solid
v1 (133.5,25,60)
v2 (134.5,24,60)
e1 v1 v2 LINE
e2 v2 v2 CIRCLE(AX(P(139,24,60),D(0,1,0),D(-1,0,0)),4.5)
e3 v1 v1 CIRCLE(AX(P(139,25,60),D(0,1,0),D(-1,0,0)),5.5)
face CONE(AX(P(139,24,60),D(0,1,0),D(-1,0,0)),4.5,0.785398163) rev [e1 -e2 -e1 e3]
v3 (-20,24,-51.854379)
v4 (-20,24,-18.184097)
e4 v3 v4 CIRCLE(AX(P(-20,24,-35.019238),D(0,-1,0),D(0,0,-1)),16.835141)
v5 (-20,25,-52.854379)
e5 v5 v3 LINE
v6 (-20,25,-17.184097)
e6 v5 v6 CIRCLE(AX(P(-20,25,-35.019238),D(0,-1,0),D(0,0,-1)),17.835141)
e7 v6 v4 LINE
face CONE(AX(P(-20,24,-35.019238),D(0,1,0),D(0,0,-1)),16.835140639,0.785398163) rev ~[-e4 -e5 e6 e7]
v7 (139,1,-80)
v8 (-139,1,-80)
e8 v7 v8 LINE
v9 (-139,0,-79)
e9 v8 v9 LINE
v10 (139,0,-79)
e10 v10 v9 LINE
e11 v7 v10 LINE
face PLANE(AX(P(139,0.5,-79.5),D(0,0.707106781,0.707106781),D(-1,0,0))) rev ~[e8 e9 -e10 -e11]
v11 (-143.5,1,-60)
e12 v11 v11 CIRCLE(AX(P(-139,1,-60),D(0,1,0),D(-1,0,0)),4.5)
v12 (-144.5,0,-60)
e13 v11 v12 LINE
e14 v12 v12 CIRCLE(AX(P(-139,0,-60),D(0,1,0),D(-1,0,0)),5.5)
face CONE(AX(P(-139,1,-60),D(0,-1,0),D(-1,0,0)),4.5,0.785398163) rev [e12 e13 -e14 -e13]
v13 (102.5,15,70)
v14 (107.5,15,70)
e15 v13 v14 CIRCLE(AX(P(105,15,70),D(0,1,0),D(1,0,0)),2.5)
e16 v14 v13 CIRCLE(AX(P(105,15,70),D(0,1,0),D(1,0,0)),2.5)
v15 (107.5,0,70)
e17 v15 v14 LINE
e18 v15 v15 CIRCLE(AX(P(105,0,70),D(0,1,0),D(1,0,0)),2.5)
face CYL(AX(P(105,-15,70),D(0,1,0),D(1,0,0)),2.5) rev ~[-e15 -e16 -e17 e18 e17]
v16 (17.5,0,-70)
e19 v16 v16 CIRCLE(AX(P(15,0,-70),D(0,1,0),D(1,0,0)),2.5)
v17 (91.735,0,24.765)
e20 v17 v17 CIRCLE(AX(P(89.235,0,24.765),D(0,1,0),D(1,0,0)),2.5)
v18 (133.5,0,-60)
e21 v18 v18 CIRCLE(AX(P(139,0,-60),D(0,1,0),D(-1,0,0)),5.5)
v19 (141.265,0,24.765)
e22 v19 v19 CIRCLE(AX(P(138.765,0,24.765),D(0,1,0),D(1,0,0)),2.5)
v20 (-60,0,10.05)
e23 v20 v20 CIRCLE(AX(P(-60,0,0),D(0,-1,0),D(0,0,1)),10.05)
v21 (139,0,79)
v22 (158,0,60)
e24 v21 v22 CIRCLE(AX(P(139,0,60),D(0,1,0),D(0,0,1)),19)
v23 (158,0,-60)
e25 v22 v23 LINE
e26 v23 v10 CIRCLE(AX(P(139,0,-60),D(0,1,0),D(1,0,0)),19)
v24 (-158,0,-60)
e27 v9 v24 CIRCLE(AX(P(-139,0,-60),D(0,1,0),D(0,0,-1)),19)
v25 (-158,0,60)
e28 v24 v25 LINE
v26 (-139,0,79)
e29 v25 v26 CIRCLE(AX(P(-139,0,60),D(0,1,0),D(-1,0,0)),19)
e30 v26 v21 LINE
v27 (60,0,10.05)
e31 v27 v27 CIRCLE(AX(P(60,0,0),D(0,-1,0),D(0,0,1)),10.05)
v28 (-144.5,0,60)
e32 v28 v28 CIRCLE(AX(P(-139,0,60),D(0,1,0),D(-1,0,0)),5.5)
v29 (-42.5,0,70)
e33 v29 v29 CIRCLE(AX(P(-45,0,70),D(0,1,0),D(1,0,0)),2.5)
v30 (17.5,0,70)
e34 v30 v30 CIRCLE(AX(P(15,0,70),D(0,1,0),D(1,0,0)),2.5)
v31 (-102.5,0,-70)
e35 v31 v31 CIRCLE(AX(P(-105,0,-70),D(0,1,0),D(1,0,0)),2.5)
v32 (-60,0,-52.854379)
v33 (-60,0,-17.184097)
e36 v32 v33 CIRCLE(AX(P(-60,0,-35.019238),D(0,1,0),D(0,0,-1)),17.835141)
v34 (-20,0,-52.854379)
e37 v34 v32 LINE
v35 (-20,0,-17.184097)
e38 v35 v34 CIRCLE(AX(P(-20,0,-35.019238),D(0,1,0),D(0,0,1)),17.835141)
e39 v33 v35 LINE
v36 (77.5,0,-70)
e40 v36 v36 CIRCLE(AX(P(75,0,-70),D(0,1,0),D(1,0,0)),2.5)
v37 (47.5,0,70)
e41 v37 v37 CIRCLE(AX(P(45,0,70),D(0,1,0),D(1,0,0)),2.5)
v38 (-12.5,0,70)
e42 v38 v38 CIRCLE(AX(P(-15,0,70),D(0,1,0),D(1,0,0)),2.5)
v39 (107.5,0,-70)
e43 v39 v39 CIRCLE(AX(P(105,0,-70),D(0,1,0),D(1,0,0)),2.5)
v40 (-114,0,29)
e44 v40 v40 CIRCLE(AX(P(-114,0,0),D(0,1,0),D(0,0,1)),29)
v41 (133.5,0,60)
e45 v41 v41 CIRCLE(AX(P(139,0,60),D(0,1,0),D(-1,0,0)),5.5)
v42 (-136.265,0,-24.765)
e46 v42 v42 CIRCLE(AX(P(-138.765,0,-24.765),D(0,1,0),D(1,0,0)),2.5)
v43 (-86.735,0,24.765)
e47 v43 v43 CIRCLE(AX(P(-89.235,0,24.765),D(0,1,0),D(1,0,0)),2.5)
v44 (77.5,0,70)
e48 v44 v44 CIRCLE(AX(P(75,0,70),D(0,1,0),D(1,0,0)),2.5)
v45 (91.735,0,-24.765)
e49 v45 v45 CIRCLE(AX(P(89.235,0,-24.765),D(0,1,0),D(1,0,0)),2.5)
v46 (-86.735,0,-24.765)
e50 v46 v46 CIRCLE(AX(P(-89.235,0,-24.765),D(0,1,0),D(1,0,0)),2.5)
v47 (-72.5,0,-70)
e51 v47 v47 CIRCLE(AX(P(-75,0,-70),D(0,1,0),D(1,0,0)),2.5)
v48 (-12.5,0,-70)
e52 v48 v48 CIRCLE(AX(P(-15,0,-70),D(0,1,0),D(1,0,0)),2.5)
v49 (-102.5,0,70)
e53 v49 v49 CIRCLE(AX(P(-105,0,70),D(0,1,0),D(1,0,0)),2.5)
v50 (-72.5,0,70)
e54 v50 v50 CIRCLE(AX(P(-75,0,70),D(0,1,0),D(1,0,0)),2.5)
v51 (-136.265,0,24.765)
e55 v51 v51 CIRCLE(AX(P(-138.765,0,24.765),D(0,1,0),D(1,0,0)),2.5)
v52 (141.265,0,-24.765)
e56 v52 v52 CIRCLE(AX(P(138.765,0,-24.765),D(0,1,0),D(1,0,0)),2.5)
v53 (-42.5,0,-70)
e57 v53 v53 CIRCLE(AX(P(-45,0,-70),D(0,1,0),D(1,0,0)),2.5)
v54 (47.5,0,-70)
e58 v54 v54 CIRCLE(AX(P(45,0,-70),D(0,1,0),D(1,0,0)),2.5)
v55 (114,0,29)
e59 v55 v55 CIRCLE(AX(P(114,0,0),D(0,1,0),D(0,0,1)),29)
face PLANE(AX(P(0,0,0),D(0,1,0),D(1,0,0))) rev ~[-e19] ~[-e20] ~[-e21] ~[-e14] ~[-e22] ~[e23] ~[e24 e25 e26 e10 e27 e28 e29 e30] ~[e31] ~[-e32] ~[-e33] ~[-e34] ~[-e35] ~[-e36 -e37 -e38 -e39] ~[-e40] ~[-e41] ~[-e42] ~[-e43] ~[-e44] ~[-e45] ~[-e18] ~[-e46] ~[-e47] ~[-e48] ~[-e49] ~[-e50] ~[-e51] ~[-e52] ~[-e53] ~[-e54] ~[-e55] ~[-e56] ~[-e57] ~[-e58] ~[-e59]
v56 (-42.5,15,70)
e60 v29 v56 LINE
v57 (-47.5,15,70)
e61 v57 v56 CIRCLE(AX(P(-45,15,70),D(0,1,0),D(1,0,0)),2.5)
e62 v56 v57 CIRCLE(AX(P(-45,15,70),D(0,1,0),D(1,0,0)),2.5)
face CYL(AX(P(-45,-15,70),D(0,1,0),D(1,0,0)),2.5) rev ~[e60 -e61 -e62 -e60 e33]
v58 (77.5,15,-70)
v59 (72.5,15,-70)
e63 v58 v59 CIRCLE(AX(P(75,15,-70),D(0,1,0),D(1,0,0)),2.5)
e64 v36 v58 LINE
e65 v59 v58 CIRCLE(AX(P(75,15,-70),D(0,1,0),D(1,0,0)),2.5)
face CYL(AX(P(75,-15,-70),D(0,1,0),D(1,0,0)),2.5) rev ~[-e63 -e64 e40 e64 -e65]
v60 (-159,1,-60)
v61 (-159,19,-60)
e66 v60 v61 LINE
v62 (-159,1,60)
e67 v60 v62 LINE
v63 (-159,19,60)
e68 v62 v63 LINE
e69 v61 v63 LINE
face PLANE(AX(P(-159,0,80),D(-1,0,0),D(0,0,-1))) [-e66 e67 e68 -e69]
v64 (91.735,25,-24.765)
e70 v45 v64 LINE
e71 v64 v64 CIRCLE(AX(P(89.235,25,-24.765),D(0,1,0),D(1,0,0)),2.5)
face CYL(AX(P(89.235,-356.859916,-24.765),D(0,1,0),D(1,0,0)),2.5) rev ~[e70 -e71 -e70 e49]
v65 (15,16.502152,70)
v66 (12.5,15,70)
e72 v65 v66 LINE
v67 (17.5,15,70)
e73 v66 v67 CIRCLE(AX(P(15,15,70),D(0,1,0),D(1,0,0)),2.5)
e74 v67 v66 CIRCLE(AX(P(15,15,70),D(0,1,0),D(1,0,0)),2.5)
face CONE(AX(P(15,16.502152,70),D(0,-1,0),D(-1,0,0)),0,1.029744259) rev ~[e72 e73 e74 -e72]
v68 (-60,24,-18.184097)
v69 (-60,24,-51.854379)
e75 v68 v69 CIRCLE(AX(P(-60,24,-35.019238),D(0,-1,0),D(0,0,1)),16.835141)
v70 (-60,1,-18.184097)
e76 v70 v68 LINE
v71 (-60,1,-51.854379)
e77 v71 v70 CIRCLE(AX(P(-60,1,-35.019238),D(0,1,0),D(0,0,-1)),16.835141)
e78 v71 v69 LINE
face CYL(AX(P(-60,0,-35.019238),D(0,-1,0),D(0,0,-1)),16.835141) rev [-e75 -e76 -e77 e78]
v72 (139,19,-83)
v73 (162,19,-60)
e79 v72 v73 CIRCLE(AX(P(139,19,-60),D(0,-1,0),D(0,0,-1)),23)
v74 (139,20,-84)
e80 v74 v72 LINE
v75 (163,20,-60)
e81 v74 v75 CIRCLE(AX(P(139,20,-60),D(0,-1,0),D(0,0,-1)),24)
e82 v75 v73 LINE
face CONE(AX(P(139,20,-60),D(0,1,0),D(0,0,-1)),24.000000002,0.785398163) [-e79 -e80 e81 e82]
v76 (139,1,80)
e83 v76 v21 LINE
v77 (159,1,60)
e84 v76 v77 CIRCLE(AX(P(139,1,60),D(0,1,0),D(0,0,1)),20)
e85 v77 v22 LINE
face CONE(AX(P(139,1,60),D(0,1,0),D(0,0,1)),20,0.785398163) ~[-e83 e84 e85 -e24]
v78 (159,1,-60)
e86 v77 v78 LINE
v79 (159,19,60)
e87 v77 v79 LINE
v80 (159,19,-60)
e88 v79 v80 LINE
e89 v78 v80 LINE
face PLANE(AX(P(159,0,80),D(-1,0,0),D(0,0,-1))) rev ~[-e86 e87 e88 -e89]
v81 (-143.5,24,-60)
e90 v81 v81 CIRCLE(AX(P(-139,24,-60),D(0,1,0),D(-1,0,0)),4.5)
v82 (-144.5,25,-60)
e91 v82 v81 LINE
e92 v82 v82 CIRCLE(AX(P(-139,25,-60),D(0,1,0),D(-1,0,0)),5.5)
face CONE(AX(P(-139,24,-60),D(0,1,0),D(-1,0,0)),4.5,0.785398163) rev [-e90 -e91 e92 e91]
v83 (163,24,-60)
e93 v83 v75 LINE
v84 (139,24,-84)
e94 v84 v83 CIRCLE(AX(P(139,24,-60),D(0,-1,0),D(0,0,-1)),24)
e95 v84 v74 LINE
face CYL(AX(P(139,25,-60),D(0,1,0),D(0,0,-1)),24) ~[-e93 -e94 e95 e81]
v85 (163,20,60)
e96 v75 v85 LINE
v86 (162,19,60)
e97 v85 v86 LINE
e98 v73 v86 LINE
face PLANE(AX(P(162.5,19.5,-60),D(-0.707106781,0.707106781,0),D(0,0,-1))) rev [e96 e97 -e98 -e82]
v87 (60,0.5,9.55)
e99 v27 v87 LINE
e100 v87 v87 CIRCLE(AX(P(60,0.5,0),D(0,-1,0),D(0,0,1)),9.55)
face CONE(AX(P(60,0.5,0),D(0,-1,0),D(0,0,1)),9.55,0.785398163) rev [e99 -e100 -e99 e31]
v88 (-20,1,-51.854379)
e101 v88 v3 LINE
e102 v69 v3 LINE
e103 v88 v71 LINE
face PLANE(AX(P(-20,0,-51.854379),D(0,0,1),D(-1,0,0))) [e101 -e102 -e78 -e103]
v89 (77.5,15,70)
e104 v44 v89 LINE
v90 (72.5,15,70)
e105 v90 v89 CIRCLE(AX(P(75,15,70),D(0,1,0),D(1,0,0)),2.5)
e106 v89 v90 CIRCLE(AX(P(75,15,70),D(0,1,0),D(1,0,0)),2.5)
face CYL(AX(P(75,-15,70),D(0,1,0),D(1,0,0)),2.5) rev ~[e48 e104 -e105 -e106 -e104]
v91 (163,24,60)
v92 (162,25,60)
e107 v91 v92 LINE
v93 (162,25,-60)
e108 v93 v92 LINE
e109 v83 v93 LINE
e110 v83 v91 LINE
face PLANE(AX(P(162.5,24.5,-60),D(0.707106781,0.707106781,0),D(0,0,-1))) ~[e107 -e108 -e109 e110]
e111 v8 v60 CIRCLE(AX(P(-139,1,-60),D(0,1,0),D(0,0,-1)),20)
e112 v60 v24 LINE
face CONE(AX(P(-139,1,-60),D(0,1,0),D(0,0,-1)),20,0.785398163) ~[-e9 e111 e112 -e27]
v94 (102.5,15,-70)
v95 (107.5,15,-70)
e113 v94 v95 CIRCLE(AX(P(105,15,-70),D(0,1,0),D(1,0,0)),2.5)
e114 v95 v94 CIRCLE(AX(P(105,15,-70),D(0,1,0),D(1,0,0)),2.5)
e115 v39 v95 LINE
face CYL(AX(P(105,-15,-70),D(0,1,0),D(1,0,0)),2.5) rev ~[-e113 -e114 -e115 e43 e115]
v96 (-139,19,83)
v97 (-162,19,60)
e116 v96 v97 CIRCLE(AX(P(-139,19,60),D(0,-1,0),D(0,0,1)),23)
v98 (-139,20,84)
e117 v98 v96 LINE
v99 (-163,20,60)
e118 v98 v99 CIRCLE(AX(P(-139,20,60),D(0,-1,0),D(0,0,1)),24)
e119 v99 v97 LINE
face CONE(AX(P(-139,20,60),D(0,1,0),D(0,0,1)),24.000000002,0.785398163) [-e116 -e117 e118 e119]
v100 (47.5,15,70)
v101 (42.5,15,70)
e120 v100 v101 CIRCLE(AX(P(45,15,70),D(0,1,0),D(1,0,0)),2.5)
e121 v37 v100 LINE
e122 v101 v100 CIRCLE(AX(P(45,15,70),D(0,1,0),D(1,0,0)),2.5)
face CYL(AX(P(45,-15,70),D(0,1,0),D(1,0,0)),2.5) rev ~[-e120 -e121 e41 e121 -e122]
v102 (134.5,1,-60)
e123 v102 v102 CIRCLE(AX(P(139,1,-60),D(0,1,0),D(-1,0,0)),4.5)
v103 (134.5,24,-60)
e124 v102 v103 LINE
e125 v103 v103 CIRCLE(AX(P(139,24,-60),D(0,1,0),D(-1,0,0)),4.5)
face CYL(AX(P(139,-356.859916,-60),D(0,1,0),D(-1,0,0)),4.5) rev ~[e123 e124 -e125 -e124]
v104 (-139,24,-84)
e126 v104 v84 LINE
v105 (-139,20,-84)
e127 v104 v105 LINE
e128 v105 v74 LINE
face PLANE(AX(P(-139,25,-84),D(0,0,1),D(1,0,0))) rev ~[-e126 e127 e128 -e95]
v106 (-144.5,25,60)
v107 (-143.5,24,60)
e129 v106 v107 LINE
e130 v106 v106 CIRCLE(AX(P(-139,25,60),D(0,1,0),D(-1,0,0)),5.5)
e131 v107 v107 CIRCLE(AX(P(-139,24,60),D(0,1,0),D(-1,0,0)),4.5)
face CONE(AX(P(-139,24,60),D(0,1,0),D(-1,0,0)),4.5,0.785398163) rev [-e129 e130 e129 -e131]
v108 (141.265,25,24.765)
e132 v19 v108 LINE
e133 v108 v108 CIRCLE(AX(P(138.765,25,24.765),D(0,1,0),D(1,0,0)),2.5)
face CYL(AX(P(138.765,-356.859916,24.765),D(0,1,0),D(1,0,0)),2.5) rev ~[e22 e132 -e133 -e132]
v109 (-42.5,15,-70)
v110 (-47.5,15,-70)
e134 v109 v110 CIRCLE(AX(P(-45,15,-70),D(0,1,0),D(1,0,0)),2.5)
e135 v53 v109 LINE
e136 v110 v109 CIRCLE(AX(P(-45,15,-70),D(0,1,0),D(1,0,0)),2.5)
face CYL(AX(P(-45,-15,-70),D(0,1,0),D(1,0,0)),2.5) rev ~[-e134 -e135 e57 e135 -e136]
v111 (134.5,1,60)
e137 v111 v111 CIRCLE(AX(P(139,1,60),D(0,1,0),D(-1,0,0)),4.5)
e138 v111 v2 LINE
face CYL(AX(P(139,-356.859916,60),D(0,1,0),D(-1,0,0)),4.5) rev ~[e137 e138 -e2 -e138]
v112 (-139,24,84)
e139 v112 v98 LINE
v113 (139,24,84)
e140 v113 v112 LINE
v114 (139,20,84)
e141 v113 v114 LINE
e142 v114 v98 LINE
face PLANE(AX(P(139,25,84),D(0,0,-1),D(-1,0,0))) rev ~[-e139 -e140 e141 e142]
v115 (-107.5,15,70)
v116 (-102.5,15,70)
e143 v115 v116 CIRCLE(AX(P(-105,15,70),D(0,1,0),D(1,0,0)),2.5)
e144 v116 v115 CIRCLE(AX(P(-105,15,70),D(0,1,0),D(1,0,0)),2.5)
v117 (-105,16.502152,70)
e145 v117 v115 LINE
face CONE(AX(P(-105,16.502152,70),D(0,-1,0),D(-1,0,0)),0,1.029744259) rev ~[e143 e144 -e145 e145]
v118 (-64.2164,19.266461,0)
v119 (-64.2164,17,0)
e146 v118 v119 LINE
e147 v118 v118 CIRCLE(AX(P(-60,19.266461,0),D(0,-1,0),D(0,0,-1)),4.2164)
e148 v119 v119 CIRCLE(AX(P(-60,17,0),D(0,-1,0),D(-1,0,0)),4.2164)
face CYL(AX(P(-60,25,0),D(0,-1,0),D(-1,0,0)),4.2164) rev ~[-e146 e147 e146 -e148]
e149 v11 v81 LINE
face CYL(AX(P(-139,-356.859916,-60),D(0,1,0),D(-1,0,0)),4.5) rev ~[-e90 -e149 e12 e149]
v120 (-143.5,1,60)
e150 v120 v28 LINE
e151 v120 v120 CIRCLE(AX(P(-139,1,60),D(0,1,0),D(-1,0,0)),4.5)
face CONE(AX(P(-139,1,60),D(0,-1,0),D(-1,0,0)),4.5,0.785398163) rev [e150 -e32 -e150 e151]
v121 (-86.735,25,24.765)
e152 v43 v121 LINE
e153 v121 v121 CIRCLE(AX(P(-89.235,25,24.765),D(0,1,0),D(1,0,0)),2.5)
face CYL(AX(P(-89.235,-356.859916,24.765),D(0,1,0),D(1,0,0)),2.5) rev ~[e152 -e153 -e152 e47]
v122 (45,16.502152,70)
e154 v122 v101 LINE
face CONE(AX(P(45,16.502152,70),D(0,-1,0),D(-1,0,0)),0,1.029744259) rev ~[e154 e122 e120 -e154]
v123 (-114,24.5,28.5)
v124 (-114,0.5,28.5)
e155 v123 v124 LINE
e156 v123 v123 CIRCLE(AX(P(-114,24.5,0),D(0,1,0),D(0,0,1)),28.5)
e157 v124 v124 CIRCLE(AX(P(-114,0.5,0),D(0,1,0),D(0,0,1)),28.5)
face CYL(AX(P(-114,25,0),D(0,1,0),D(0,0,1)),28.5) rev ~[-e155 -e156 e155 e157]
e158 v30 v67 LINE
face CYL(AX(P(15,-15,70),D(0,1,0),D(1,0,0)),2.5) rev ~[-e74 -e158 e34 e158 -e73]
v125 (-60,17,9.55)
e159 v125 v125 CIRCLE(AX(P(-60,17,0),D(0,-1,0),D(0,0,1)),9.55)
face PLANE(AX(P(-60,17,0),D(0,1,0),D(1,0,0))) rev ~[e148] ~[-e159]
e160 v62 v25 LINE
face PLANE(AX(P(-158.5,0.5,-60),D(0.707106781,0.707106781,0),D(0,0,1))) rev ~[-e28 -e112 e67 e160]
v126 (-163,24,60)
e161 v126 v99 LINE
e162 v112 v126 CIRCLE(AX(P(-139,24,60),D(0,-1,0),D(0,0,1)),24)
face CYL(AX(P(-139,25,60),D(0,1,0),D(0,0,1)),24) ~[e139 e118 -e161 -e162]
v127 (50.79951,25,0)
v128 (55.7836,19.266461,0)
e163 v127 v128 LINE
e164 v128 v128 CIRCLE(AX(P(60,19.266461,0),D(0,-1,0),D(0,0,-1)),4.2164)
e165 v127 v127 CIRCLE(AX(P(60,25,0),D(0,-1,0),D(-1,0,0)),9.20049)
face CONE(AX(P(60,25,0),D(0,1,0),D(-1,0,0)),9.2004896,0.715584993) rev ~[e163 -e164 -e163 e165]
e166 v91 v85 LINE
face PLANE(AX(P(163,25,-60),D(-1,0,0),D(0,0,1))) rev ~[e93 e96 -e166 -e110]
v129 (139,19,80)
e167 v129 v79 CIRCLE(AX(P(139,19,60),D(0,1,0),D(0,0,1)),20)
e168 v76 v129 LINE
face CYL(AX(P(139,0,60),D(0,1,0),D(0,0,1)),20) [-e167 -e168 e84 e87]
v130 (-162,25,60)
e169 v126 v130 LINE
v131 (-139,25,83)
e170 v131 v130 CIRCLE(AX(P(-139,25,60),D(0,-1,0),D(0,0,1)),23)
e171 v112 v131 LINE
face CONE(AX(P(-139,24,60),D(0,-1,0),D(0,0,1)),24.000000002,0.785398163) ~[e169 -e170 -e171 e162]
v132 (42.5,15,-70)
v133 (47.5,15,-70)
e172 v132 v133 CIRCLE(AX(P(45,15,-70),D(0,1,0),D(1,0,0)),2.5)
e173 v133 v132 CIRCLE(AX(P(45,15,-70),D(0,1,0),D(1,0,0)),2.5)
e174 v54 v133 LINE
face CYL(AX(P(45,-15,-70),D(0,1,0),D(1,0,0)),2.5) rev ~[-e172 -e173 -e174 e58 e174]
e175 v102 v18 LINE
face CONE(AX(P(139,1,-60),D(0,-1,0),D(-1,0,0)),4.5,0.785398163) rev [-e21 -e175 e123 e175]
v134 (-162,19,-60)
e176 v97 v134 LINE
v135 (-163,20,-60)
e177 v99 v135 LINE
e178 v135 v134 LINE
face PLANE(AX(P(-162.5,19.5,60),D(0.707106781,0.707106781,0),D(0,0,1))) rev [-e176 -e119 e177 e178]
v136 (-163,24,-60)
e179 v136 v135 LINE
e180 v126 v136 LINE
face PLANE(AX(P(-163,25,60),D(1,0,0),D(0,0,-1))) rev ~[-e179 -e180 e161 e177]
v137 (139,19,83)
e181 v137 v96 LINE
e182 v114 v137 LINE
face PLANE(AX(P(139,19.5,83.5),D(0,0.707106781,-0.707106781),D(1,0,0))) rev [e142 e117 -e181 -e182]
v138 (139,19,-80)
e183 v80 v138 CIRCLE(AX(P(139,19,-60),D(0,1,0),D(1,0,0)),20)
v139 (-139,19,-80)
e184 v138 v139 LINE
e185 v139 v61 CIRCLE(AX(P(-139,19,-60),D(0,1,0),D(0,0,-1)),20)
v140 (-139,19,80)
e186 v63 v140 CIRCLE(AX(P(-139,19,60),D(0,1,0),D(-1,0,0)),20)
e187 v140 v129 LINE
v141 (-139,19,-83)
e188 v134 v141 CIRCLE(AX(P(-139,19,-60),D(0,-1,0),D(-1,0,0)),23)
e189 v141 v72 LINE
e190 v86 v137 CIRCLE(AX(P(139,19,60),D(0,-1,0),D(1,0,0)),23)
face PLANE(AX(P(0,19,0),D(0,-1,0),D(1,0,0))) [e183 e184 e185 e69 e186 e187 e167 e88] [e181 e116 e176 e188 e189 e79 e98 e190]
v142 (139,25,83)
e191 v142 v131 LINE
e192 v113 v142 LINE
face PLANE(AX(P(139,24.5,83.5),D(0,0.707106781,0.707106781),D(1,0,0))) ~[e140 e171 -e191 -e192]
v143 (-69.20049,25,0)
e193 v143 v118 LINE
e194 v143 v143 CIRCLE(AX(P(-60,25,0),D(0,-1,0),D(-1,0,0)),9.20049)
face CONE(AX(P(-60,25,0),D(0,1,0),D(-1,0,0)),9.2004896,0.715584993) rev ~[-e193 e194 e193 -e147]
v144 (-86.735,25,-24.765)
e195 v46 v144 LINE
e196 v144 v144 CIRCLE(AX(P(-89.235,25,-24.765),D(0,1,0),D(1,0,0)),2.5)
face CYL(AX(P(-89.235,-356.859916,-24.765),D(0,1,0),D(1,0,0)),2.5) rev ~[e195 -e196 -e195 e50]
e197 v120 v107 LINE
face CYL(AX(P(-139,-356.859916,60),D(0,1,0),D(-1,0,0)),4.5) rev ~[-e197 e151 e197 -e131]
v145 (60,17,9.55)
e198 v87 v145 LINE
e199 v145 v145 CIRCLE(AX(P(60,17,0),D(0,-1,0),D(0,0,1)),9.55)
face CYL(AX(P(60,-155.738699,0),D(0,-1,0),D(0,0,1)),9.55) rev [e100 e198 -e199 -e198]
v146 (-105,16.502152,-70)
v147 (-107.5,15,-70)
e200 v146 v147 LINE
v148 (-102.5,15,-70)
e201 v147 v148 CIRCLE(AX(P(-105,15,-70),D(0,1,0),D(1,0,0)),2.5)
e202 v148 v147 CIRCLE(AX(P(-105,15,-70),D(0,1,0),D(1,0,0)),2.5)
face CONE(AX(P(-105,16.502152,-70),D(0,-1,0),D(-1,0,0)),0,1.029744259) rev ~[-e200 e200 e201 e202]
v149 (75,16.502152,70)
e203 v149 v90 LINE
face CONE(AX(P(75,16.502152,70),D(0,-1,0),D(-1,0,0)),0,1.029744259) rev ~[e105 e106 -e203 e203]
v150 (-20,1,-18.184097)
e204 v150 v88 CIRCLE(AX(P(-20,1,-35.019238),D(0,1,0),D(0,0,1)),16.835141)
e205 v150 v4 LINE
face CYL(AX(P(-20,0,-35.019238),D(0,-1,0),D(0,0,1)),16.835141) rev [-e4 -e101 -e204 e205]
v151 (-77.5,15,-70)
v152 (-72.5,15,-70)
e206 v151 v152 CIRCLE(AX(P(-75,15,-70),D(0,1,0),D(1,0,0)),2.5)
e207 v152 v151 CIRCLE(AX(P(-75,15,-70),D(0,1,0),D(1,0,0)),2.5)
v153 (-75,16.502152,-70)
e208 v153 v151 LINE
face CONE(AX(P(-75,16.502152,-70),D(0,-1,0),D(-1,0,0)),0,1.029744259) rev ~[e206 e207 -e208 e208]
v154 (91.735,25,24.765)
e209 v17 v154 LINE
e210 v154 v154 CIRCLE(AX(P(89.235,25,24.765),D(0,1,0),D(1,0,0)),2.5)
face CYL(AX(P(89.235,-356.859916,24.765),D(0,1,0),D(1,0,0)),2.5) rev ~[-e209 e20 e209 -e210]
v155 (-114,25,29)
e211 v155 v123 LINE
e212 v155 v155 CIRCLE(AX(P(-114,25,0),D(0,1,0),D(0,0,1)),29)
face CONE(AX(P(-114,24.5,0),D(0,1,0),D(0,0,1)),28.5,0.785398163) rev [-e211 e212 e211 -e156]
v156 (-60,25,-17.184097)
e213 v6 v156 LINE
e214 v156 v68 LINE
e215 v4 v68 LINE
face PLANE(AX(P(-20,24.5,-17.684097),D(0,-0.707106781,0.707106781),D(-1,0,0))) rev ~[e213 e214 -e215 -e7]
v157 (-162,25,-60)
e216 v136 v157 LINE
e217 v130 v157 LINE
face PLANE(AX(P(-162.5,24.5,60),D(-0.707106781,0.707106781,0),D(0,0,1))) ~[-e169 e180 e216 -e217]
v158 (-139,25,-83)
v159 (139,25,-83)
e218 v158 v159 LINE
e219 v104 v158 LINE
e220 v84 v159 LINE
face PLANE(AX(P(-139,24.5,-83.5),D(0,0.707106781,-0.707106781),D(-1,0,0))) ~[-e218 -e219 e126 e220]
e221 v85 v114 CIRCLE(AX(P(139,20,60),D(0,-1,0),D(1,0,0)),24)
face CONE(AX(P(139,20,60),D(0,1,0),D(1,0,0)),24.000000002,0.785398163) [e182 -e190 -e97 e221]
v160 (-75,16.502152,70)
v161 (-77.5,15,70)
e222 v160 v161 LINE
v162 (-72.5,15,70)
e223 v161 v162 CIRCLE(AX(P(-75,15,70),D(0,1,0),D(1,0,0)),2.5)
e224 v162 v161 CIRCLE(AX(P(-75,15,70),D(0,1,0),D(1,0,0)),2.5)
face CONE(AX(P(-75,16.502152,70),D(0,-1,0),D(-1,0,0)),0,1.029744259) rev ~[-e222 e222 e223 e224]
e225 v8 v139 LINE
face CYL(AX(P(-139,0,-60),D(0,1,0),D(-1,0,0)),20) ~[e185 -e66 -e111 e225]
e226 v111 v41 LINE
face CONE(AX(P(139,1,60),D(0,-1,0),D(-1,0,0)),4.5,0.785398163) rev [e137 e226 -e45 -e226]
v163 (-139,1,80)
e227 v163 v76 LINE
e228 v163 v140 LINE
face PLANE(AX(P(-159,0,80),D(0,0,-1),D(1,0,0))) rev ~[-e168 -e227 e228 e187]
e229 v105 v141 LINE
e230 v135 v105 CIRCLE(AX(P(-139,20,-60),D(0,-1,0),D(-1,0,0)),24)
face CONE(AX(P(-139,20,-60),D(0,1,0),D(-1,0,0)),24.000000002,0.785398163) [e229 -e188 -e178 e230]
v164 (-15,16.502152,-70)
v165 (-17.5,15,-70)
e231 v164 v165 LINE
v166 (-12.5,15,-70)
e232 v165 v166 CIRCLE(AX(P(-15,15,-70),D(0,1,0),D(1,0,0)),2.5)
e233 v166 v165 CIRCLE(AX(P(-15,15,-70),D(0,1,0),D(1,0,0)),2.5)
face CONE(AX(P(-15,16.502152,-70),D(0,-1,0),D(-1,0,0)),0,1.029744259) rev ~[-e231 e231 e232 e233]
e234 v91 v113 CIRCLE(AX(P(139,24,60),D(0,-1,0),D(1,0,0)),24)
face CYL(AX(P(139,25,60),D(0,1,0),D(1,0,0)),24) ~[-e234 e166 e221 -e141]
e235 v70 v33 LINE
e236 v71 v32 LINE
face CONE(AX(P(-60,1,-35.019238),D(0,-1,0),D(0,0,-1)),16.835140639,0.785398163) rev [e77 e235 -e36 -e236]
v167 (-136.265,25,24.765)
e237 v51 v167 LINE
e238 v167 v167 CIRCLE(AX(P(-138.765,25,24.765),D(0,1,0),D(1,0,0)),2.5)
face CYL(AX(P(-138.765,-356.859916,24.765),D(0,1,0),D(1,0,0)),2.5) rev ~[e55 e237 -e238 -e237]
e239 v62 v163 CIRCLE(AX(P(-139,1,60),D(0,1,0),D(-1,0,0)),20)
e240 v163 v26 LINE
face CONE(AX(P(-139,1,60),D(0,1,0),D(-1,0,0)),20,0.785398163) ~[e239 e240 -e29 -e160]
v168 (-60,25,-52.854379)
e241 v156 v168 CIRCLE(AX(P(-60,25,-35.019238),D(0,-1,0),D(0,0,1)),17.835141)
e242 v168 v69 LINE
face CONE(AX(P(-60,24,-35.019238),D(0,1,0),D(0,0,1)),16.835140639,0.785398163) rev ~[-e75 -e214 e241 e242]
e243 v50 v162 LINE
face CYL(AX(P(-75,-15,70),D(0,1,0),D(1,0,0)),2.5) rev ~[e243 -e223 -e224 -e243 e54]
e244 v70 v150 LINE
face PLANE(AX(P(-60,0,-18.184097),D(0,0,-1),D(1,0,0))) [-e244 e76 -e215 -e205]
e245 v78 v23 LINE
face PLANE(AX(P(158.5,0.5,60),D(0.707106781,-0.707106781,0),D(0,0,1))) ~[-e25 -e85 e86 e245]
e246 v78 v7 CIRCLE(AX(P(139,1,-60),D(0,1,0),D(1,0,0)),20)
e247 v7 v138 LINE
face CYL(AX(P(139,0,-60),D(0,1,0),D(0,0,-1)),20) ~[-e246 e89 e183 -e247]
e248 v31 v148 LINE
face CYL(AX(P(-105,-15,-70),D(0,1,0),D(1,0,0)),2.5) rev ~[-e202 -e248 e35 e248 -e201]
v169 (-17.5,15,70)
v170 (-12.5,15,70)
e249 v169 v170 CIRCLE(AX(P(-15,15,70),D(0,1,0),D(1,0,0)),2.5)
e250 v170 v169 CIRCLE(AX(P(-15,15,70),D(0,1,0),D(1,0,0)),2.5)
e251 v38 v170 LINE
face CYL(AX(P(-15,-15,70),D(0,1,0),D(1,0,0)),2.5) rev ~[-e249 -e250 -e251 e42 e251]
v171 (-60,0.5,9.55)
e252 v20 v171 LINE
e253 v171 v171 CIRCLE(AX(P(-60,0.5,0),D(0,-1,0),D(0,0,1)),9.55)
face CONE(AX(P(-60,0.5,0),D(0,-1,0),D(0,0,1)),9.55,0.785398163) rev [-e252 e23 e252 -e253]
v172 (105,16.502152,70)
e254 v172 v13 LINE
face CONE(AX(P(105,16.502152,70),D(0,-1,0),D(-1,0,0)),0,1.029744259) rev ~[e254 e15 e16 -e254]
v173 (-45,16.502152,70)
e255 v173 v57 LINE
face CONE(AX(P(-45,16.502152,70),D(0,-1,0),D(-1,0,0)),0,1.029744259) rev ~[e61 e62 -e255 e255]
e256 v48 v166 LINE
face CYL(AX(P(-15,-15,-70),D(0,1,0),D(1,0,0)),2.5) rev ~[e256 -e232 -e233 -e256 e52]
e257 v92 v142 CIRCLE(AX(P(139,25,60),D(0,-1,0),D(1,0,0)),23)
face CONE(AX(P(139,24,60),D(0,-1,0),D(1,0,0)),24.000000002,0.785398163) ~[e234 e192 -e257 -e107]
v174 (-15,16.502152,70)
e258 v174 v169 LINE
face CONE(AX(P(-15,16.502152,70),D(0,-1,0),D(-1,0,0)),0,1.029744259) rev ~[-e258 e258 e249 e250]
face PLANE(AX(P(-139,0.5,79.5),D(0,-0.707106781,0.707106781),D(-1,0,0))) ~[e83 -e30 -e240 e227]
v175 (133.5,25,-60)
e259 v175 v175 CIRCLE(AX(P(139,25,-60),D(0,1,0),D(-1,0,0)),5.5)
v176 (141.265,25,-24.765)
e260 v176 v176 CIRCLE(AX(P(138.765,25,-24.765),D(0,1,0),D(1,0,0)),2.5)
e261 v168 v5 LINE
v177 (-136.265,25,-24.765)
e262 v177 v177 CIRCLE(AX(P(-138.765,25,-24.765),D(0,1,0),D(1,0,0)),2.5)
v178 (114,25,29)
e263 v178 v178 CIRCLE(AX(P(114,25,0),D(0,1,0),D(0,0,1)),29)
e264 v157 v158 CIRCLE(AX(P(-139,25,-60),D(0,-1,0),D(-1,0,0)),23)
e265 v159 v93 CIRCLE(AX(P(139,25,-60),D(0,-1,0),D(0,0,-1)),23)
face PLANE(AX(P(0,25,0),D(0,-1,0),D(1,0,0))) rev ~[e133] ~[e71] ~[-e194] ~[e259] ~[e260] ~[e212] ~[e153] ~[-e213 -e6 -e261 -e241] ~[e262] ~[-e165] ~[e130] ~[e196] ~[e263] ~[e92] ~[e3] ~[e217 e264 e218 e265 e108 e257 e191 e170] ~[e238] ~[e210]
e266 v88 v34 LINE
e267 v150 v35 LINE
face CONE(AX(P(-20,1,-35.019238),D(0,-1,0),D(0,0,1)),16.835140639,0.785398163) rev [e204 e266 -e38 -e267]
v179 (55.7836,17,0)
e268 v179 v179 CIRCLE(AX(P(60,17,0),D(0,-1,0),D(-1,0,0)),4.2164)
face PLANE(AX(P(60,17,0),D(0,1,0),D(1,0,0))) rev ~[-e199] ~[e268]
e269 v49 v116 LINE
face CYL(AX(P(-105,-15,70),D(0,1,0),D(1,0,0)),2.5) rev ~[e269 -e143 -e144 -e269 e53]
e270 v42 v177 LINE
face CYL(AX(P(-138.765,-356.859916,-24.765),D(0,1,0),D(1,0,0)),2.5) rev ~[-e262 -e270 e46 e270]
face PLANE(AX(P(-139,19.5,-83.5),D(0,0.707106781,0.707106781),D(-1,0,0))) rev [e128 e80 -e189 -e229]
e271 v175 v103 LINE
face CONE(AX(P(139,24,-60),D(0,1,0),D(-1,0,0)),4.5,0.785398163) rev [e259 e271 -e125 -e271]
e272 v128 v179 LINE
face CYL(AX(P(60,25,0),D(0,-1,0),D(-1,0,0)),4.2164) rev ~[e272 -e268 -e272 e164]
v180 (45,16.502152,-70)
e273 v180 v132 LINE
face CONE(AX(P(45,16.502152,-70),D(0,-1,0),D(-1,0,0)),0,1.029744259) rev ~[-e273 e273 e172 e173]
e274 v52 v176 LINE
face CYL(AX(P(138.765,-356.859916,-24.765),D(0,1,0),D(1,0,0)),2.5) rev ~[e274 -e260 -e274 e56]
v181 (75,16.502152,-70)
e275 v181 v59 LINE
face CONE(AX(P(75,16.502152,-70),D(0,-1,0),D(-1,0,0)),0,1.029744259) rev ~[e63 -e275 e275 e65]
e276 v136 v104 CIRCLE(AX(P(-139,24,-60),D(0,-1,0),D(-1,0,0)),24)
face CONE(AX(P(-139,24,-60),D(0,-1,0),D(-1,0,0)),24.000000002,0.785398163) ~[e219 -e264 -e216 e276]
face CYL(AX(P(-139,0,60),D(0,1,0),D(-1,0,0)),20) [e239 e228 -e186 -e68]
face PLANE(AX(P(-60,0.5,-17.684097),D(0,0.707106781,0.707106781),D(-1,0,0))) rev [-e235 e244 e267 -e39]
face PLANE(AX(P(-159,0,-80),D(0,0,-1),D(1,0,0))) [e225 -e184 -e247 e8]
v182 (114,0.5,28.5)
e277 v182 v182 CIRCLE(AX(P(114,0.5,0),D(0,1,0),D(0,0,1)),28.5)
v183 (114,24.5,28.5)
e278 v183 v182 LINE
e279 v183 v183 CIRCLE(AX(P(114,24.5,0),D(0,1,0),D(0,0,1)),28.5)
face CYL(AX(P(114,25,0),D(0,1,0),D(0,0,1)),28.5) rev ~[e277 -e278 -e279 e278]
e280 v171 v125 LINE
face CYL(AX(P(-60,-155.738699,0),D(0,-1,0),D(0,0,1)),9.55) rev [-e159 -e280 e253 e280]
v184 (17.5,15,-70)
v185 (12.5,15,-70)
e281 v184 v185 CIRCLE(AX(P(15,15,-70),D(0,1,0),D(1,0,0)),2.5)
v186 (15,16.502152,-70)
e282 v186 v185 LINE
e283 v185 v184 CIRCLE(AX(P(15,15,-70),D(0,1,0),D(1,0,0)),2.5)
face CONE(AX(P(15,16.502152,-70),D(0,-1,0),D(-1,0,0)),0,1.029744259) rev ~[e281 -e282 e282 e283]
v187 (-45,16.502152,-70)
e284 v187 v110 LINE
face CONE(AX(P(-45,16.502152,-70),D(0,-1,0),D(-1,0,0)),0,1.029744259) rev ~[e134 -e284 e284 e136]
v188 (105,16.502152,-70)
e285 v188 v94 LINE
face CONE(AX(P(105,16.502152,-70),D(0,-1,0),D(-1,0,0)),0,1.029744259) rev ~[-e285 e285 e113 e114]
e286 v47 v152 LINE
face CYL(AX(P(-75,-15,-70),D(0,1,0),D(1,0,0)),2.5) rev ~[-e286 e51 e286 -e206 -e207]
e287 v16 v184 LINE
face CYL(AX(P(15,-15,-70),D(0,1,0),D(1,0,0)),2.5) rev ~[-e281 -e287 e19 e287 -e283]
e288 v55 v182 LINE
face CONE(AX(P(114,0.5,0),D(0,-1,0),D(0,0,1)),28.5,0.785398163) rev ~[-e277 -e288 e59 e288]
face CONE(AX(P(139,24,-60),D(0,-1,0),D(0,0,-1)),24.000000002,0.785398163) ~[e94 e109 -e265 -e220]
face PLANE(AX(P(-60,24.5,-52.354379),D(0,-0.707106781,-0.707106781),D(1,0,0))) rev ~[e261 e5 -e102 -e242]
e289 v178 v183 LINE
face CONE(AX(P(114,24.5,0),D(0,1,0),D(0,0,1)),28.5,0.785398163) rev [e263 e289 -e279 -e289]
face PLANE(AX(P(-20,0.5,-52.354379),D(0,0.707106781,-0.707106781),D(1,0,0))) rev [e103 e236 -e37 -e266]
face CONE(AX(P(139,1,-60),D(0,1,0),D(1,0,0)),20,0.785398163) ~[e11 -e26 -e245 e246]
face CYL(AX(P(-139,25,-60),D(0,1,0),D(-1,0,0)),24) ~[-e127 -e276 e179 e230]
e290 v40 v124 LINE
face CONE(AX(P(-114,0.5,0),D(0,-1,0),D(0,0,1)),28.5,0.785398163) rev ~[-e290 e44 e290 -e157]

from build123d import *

# Parameters (mm, degrees)
SKETCH1_W                                            = 318
SKETCH1_H                                            = 160
BOSS_EXTRUDE1_DEPTH                                  = 25
SKETCH2_R                                            = 28.5
CUT_EXTRUDE1_DEPTH                                   = 180.738699228
CUT_EXTRUDE2_DEPTH                                   = 180.738699228
CUT_EXTRUDE2_DEPTH_BACK                              = 180.738699228
SKETCH4_R                                            = 9.55
CHAMFER1_SIZE                                        = 0.5
FILLET1_R                                            = 20
M8_CLEARANCE_HOLE1_D                                 = 9
M6X1_0_TAPPED_HOLE1_D                                = 5
SKETCH13_R                                           = 13.411040831
SKETCH13_R_2                                         = 14.724493856
BOSS_EXTRUDE3_DEPTH                                  = 8
CSK_FOR_5_16_FLAT_HEAD_SOCKET_CAP_SCREW1_D           = 8.4328
CSK_FOR_5_16_FLAT_HEAD_SOCKET_CAP_SCREW1_CSINK_D     = 18.4009792
CSK_FOR_5_16_FLAT_HEAD_SOCKET_CAP_SCREW1_CSINK_ANGLE = 82
BOSS_EXTRUDE4_DEPTH                                  = 6
CUT_EXTRUDE3_DEPTH                                   = 186.067555233
CHAMFER4_SIZE                                        = 1
M6X1_0_TAPPED_HOLE2_D                                = 5
M6X1_0_TAPPED_HOLE2_DEPTH                            = 15
M6X1_0_TAPPED_HOLE2_TIP                              = 1.502151548


with BuildPart() as part:
    # Sketch1 → Boss-Extrude1 (new body)
    with BuildSketch(Plane(origin=(0, 0, 0), x_dir=(1, 0, 0), z_dir=(0, 1, 0))):
        Rectangle(SKETCH1_W, SKETCH1_H)
    extrude(amount=BOSS_EXTRUDE1_DEPTH)

    # Sketch2 → Cut-Extrude1 (cut, through all)
    with BuildSketch(Plane(origin=(0, 25, 0), x_dir=(1, 0, 0), z_dir=(0, 1, 0))):
        with Locations(Location((-114, 0, 0), (0, 0, 270))):
            Circle(SKETCH2_R)
        with Locations(Location((114, 0, 0), (0, 0, 270))):
            Circle(SKETCH2_R)
    extrude(amount=-CUT_EXTRUDE1_DEPTH, mode=Mode.SUBTRACT)

    # Sketch4 → Cut-Extrude2 (cut, two sides: drawn at the far end of the back side and taken through both)
    with BuildSketch(Plane(origin=(0, 25, 0), x_dir=(1, 0, 0), z_dir=(0, 1, 0)).offset(-CUT_EXTRUDE2_DEPTH_BACK)):
        with Locations(Location((-60, 0, 0), (0, 0, 270))):
            Circle(SKETCH4_R)
        with Locations(Location((60, 0, 0), (0, 0, 270))):
            Circle(SKETCH4_R)
    extrude(amount=CUT_EXTRUDE2_DEPTH + CUT_EXTRUDE2_DEPTH_BACK, mode=Mode.SUBTRACT)

    # Chamfer1
    chamfer1_edges = [part.edges().sort_by_distance(p)[0] for p in [
        (-114, 0, -28.5),
        (-114, 25, -28.5),
        (114, 0, -28.5),
        (114, 25, -28.5),
        (-60, 0, -9.55),
        (-60, 25, -9.55),
        (60, 0, -9.55),
        (60, 25, -9.55),
    ]]
    chamfer(chamfer1_edges, length=CHAMFER1_SIZE)

    # Fillet1
    fillet1_edges = [part.edges().sort_by_distance(p)[0] for p in [
        (159, 12.5, 80),
        (-159, 12.5, 80),
        (-159, 12.5, -80),
        (159, 12.5, -80),
    ]]
    fillet(fillet1_edges, radius=FILLET1_R)

    # M8 Clearance Hole1 (through all)
    with Locations(Plane.XZ):
        with Locations((-139, -60), (-139, 60), (139, -60), (139, 60)):
            Hole(M8_CLEARANCE_HOLE1_D / 2)

    # M6x1.0 Tapped Hole1 (through all)
    with Locations(Plane(origin=(0, 0, 0), x_dir=(-1, 0, 0), z_dir=(0, -1, 0))):
        with Locations((138.765, -24.765), (89.235, -24.765), (89.235, 24.765), (138.765, 24.765), (-89.235, -24.765), (-138.765, -24.765), (-89.235, 24.765), (-138.765, 24.765)):
            Hole(M6X1_0_TAPPED_HOLE1_D / 2)

    # Sketch13 → Boss-Extrude3 (add)
    with BuildSketch(Plane(origin=(0, 25, 0), x_dir=(1, 0, 0), z_dir=(0, 1, 0))):
        with Locations((60, 0)):
            Circle(SKETCH13_R)
        with Locations((-60, 0)):
            Circle(SKETCH13_R_2)
    extrude(amount=-BOSS_EXTRUDE3_DEPTH)

    # CSK for 5/16 Flat Head Socket Cap Screw1 (through all)
    with Locations(Plane(origin=(0, 25, 0), x_dir=(1, 0, 0), z_dir=(0, 1, 0))):
        with Locations((60, 0), (-60, 0)):
            CounterSinkHole(CSK_FOR_5_16_FLAT_HEAD_SOCKET_CAP_SCREW1_D / 2, CSK_FOR_5_16_FLAT_HEAD_SOCKET_CAP_SCREW1_CSINK_D / 2, counter_sink_angle=CSK_FOR_5_16_FLAT_HEAD_SOCKET_CAP_SCREW1_CSINK_ANGLE)

    # Sketch16 → Boss-Extrude4 (add)
    with BuildSketch(Plane.XZ.offset(-25)):
        with BuildLine():
            Line((163, -60), (163, 60))
            ThreePointArc((163, 60), (155.970562748, 76.970562748), (139, 84))
            Line((139, 84), (-139, 84))
            ThreePointArc((-139, 84), (-155.970562748, 76.970562748), (-163, 60))
            Line((-163, 60), (-163, -60))
            ThreePointArc((-163, -60), (-155.970562748, -76.970562748), (-139, -84))
            Line((-139, -84), (139, -84))
            ThreePointArc((139, -84), (155.970562748, -76.970562748), (163, -60))
        make_face()
        with BuildLine():
            Line((159, 60), (159, -60))
            ThreePointArc((159, -60), (153.142135624, -74.142135624), (139, -80))
            Line((139, -80), (-139, -80))
            ThreePointArc((-139, -80), (-153.142135624, -74.142135624), (-159, -60))
            Line((-159, -60), (-159, 60))
            ThreePointArc((-159, 60), (-153.142135624, 74.142135624), (-139, 80))
            Line((-139, 80), (139, 80))
            ThreePointArc((139, 80), (153.142135624, 74.142135624), (159, 60))
        make_face(mode=Mode.SUBTRACT)
    extrude(amount=BOSS_EXTRUDE4_DEPTH)

    # Sketch17 → Cut-Extrude3 (cut, through all)
    with BuildSketch(Plane.XZ):
        with BuildLine():
            Line((-60, -18.184097247), (-20, -18.184097247))
            ThreePointArc((-20, -18.184097247), (-3.164859361, -35.019237886), (-20, -51.854378525))
            Line((-20, -51.854378525), (-60, -51.854378525))
            ThreePointArc((-60, -51.854378525), (-76.835140639, -35.019237886), (-60, -18.184097247))
        make_face()
    extrude(amount=-CUT_EXTRUDE3_DEPTH, mode=Mode.SUBTRACT)

    # Chamfer4
    chamfer4_edges = [part.edges().sort_by_distance(p)[0] for p in [
        (-134.5, 0, 60),
        (-134.5, 25, 60),
        (-134.5, 0, -60),
        (-134.5, 25, -60),
        (155.970562748, 19, -76.970562748),
        (163, 19, 0),
        (155.970562748, 19, 76.970562748),
        (0, 19, 84),
        (-155.970562748, 19, 76.970562748),
        (-163, 19, 0),
        (-155.970562748, 19, -76.970562748),
        (0, 19, -84),
        (155.970562748, 25, -76.970562748),
        (163, 25, 0),
        (155.970562748, 25, 76.970562748),
        (0, 25, 84),
        (-155.970562748, 25, 76.970562748),
        (-163, 25, 0),
        (-155.970562748, 25, -76.970562748),
        (0, 25, -84),
        (-76.835140639, 25, -35.019237886),
        (-40, 25, -18.184097247),
        (-3.164859361, 25, -35.019237886),
        (-40, 25, -51.854378525),
        (-76.835140639, 0, -35.019237886),
        (-40, 0, -51.854378525),
        (-3.164859361, 0, -35.019237886),
        (-40, 0, -18.184097247),
        (159, 0, 0),
        (0, 0, 80),
        (-159, 0, 0),
        (0, 0, -80),
        (-153.142135624, 0, 74.142135624),
        (-153.142135624, 0, -74.142135624),
        (153.142135624, 0, -74.142135624),
        (153.142135624, 0, 74.142135624),
        (143.5, 0, 60),
        (143.5, 25, 60),
        (143.5, 0, -60),
        (143.5, 25, -60),
    ]]
    chamfer(chamfer4_edges, length=CHAMFER4_SIZE)

    # M6x1.0 Tapped Hole2
    with Locations(Plane(origin=(0, 0, 0), x_dir=(-1, 0, 0), z_dir=(0, -1, 0))):
        with Locations((-75, 70), (-45, 70), (-105, 70), (-15, 70), (15, 70), (45, 70), (75, 70), (105, 70), (-105, -70), (-75, -70), (-45, -70), (-15, -70), (15, -70), (45, -70), (75, -70), (105, -70)):
            Hole(M6X1_0_TAPPED_HOLE2_D / 2, depth=M6X1_0_TAPPED_HOLE2_DEPTH)
            with Locations((0, 0, -(M6X1_0_TAPPED_HOLE2_DEPTH + M6X1_0_TAPPED_HOLE2_TIP / 2))):  # 118° drill point
                Cone(0, M6X1_0_TAPPED_HOLE2_D / 2, M6X1_0_TAPPED_HOLE2_TIP, mode=Mode.SUBTRACT)


solid = part.part
